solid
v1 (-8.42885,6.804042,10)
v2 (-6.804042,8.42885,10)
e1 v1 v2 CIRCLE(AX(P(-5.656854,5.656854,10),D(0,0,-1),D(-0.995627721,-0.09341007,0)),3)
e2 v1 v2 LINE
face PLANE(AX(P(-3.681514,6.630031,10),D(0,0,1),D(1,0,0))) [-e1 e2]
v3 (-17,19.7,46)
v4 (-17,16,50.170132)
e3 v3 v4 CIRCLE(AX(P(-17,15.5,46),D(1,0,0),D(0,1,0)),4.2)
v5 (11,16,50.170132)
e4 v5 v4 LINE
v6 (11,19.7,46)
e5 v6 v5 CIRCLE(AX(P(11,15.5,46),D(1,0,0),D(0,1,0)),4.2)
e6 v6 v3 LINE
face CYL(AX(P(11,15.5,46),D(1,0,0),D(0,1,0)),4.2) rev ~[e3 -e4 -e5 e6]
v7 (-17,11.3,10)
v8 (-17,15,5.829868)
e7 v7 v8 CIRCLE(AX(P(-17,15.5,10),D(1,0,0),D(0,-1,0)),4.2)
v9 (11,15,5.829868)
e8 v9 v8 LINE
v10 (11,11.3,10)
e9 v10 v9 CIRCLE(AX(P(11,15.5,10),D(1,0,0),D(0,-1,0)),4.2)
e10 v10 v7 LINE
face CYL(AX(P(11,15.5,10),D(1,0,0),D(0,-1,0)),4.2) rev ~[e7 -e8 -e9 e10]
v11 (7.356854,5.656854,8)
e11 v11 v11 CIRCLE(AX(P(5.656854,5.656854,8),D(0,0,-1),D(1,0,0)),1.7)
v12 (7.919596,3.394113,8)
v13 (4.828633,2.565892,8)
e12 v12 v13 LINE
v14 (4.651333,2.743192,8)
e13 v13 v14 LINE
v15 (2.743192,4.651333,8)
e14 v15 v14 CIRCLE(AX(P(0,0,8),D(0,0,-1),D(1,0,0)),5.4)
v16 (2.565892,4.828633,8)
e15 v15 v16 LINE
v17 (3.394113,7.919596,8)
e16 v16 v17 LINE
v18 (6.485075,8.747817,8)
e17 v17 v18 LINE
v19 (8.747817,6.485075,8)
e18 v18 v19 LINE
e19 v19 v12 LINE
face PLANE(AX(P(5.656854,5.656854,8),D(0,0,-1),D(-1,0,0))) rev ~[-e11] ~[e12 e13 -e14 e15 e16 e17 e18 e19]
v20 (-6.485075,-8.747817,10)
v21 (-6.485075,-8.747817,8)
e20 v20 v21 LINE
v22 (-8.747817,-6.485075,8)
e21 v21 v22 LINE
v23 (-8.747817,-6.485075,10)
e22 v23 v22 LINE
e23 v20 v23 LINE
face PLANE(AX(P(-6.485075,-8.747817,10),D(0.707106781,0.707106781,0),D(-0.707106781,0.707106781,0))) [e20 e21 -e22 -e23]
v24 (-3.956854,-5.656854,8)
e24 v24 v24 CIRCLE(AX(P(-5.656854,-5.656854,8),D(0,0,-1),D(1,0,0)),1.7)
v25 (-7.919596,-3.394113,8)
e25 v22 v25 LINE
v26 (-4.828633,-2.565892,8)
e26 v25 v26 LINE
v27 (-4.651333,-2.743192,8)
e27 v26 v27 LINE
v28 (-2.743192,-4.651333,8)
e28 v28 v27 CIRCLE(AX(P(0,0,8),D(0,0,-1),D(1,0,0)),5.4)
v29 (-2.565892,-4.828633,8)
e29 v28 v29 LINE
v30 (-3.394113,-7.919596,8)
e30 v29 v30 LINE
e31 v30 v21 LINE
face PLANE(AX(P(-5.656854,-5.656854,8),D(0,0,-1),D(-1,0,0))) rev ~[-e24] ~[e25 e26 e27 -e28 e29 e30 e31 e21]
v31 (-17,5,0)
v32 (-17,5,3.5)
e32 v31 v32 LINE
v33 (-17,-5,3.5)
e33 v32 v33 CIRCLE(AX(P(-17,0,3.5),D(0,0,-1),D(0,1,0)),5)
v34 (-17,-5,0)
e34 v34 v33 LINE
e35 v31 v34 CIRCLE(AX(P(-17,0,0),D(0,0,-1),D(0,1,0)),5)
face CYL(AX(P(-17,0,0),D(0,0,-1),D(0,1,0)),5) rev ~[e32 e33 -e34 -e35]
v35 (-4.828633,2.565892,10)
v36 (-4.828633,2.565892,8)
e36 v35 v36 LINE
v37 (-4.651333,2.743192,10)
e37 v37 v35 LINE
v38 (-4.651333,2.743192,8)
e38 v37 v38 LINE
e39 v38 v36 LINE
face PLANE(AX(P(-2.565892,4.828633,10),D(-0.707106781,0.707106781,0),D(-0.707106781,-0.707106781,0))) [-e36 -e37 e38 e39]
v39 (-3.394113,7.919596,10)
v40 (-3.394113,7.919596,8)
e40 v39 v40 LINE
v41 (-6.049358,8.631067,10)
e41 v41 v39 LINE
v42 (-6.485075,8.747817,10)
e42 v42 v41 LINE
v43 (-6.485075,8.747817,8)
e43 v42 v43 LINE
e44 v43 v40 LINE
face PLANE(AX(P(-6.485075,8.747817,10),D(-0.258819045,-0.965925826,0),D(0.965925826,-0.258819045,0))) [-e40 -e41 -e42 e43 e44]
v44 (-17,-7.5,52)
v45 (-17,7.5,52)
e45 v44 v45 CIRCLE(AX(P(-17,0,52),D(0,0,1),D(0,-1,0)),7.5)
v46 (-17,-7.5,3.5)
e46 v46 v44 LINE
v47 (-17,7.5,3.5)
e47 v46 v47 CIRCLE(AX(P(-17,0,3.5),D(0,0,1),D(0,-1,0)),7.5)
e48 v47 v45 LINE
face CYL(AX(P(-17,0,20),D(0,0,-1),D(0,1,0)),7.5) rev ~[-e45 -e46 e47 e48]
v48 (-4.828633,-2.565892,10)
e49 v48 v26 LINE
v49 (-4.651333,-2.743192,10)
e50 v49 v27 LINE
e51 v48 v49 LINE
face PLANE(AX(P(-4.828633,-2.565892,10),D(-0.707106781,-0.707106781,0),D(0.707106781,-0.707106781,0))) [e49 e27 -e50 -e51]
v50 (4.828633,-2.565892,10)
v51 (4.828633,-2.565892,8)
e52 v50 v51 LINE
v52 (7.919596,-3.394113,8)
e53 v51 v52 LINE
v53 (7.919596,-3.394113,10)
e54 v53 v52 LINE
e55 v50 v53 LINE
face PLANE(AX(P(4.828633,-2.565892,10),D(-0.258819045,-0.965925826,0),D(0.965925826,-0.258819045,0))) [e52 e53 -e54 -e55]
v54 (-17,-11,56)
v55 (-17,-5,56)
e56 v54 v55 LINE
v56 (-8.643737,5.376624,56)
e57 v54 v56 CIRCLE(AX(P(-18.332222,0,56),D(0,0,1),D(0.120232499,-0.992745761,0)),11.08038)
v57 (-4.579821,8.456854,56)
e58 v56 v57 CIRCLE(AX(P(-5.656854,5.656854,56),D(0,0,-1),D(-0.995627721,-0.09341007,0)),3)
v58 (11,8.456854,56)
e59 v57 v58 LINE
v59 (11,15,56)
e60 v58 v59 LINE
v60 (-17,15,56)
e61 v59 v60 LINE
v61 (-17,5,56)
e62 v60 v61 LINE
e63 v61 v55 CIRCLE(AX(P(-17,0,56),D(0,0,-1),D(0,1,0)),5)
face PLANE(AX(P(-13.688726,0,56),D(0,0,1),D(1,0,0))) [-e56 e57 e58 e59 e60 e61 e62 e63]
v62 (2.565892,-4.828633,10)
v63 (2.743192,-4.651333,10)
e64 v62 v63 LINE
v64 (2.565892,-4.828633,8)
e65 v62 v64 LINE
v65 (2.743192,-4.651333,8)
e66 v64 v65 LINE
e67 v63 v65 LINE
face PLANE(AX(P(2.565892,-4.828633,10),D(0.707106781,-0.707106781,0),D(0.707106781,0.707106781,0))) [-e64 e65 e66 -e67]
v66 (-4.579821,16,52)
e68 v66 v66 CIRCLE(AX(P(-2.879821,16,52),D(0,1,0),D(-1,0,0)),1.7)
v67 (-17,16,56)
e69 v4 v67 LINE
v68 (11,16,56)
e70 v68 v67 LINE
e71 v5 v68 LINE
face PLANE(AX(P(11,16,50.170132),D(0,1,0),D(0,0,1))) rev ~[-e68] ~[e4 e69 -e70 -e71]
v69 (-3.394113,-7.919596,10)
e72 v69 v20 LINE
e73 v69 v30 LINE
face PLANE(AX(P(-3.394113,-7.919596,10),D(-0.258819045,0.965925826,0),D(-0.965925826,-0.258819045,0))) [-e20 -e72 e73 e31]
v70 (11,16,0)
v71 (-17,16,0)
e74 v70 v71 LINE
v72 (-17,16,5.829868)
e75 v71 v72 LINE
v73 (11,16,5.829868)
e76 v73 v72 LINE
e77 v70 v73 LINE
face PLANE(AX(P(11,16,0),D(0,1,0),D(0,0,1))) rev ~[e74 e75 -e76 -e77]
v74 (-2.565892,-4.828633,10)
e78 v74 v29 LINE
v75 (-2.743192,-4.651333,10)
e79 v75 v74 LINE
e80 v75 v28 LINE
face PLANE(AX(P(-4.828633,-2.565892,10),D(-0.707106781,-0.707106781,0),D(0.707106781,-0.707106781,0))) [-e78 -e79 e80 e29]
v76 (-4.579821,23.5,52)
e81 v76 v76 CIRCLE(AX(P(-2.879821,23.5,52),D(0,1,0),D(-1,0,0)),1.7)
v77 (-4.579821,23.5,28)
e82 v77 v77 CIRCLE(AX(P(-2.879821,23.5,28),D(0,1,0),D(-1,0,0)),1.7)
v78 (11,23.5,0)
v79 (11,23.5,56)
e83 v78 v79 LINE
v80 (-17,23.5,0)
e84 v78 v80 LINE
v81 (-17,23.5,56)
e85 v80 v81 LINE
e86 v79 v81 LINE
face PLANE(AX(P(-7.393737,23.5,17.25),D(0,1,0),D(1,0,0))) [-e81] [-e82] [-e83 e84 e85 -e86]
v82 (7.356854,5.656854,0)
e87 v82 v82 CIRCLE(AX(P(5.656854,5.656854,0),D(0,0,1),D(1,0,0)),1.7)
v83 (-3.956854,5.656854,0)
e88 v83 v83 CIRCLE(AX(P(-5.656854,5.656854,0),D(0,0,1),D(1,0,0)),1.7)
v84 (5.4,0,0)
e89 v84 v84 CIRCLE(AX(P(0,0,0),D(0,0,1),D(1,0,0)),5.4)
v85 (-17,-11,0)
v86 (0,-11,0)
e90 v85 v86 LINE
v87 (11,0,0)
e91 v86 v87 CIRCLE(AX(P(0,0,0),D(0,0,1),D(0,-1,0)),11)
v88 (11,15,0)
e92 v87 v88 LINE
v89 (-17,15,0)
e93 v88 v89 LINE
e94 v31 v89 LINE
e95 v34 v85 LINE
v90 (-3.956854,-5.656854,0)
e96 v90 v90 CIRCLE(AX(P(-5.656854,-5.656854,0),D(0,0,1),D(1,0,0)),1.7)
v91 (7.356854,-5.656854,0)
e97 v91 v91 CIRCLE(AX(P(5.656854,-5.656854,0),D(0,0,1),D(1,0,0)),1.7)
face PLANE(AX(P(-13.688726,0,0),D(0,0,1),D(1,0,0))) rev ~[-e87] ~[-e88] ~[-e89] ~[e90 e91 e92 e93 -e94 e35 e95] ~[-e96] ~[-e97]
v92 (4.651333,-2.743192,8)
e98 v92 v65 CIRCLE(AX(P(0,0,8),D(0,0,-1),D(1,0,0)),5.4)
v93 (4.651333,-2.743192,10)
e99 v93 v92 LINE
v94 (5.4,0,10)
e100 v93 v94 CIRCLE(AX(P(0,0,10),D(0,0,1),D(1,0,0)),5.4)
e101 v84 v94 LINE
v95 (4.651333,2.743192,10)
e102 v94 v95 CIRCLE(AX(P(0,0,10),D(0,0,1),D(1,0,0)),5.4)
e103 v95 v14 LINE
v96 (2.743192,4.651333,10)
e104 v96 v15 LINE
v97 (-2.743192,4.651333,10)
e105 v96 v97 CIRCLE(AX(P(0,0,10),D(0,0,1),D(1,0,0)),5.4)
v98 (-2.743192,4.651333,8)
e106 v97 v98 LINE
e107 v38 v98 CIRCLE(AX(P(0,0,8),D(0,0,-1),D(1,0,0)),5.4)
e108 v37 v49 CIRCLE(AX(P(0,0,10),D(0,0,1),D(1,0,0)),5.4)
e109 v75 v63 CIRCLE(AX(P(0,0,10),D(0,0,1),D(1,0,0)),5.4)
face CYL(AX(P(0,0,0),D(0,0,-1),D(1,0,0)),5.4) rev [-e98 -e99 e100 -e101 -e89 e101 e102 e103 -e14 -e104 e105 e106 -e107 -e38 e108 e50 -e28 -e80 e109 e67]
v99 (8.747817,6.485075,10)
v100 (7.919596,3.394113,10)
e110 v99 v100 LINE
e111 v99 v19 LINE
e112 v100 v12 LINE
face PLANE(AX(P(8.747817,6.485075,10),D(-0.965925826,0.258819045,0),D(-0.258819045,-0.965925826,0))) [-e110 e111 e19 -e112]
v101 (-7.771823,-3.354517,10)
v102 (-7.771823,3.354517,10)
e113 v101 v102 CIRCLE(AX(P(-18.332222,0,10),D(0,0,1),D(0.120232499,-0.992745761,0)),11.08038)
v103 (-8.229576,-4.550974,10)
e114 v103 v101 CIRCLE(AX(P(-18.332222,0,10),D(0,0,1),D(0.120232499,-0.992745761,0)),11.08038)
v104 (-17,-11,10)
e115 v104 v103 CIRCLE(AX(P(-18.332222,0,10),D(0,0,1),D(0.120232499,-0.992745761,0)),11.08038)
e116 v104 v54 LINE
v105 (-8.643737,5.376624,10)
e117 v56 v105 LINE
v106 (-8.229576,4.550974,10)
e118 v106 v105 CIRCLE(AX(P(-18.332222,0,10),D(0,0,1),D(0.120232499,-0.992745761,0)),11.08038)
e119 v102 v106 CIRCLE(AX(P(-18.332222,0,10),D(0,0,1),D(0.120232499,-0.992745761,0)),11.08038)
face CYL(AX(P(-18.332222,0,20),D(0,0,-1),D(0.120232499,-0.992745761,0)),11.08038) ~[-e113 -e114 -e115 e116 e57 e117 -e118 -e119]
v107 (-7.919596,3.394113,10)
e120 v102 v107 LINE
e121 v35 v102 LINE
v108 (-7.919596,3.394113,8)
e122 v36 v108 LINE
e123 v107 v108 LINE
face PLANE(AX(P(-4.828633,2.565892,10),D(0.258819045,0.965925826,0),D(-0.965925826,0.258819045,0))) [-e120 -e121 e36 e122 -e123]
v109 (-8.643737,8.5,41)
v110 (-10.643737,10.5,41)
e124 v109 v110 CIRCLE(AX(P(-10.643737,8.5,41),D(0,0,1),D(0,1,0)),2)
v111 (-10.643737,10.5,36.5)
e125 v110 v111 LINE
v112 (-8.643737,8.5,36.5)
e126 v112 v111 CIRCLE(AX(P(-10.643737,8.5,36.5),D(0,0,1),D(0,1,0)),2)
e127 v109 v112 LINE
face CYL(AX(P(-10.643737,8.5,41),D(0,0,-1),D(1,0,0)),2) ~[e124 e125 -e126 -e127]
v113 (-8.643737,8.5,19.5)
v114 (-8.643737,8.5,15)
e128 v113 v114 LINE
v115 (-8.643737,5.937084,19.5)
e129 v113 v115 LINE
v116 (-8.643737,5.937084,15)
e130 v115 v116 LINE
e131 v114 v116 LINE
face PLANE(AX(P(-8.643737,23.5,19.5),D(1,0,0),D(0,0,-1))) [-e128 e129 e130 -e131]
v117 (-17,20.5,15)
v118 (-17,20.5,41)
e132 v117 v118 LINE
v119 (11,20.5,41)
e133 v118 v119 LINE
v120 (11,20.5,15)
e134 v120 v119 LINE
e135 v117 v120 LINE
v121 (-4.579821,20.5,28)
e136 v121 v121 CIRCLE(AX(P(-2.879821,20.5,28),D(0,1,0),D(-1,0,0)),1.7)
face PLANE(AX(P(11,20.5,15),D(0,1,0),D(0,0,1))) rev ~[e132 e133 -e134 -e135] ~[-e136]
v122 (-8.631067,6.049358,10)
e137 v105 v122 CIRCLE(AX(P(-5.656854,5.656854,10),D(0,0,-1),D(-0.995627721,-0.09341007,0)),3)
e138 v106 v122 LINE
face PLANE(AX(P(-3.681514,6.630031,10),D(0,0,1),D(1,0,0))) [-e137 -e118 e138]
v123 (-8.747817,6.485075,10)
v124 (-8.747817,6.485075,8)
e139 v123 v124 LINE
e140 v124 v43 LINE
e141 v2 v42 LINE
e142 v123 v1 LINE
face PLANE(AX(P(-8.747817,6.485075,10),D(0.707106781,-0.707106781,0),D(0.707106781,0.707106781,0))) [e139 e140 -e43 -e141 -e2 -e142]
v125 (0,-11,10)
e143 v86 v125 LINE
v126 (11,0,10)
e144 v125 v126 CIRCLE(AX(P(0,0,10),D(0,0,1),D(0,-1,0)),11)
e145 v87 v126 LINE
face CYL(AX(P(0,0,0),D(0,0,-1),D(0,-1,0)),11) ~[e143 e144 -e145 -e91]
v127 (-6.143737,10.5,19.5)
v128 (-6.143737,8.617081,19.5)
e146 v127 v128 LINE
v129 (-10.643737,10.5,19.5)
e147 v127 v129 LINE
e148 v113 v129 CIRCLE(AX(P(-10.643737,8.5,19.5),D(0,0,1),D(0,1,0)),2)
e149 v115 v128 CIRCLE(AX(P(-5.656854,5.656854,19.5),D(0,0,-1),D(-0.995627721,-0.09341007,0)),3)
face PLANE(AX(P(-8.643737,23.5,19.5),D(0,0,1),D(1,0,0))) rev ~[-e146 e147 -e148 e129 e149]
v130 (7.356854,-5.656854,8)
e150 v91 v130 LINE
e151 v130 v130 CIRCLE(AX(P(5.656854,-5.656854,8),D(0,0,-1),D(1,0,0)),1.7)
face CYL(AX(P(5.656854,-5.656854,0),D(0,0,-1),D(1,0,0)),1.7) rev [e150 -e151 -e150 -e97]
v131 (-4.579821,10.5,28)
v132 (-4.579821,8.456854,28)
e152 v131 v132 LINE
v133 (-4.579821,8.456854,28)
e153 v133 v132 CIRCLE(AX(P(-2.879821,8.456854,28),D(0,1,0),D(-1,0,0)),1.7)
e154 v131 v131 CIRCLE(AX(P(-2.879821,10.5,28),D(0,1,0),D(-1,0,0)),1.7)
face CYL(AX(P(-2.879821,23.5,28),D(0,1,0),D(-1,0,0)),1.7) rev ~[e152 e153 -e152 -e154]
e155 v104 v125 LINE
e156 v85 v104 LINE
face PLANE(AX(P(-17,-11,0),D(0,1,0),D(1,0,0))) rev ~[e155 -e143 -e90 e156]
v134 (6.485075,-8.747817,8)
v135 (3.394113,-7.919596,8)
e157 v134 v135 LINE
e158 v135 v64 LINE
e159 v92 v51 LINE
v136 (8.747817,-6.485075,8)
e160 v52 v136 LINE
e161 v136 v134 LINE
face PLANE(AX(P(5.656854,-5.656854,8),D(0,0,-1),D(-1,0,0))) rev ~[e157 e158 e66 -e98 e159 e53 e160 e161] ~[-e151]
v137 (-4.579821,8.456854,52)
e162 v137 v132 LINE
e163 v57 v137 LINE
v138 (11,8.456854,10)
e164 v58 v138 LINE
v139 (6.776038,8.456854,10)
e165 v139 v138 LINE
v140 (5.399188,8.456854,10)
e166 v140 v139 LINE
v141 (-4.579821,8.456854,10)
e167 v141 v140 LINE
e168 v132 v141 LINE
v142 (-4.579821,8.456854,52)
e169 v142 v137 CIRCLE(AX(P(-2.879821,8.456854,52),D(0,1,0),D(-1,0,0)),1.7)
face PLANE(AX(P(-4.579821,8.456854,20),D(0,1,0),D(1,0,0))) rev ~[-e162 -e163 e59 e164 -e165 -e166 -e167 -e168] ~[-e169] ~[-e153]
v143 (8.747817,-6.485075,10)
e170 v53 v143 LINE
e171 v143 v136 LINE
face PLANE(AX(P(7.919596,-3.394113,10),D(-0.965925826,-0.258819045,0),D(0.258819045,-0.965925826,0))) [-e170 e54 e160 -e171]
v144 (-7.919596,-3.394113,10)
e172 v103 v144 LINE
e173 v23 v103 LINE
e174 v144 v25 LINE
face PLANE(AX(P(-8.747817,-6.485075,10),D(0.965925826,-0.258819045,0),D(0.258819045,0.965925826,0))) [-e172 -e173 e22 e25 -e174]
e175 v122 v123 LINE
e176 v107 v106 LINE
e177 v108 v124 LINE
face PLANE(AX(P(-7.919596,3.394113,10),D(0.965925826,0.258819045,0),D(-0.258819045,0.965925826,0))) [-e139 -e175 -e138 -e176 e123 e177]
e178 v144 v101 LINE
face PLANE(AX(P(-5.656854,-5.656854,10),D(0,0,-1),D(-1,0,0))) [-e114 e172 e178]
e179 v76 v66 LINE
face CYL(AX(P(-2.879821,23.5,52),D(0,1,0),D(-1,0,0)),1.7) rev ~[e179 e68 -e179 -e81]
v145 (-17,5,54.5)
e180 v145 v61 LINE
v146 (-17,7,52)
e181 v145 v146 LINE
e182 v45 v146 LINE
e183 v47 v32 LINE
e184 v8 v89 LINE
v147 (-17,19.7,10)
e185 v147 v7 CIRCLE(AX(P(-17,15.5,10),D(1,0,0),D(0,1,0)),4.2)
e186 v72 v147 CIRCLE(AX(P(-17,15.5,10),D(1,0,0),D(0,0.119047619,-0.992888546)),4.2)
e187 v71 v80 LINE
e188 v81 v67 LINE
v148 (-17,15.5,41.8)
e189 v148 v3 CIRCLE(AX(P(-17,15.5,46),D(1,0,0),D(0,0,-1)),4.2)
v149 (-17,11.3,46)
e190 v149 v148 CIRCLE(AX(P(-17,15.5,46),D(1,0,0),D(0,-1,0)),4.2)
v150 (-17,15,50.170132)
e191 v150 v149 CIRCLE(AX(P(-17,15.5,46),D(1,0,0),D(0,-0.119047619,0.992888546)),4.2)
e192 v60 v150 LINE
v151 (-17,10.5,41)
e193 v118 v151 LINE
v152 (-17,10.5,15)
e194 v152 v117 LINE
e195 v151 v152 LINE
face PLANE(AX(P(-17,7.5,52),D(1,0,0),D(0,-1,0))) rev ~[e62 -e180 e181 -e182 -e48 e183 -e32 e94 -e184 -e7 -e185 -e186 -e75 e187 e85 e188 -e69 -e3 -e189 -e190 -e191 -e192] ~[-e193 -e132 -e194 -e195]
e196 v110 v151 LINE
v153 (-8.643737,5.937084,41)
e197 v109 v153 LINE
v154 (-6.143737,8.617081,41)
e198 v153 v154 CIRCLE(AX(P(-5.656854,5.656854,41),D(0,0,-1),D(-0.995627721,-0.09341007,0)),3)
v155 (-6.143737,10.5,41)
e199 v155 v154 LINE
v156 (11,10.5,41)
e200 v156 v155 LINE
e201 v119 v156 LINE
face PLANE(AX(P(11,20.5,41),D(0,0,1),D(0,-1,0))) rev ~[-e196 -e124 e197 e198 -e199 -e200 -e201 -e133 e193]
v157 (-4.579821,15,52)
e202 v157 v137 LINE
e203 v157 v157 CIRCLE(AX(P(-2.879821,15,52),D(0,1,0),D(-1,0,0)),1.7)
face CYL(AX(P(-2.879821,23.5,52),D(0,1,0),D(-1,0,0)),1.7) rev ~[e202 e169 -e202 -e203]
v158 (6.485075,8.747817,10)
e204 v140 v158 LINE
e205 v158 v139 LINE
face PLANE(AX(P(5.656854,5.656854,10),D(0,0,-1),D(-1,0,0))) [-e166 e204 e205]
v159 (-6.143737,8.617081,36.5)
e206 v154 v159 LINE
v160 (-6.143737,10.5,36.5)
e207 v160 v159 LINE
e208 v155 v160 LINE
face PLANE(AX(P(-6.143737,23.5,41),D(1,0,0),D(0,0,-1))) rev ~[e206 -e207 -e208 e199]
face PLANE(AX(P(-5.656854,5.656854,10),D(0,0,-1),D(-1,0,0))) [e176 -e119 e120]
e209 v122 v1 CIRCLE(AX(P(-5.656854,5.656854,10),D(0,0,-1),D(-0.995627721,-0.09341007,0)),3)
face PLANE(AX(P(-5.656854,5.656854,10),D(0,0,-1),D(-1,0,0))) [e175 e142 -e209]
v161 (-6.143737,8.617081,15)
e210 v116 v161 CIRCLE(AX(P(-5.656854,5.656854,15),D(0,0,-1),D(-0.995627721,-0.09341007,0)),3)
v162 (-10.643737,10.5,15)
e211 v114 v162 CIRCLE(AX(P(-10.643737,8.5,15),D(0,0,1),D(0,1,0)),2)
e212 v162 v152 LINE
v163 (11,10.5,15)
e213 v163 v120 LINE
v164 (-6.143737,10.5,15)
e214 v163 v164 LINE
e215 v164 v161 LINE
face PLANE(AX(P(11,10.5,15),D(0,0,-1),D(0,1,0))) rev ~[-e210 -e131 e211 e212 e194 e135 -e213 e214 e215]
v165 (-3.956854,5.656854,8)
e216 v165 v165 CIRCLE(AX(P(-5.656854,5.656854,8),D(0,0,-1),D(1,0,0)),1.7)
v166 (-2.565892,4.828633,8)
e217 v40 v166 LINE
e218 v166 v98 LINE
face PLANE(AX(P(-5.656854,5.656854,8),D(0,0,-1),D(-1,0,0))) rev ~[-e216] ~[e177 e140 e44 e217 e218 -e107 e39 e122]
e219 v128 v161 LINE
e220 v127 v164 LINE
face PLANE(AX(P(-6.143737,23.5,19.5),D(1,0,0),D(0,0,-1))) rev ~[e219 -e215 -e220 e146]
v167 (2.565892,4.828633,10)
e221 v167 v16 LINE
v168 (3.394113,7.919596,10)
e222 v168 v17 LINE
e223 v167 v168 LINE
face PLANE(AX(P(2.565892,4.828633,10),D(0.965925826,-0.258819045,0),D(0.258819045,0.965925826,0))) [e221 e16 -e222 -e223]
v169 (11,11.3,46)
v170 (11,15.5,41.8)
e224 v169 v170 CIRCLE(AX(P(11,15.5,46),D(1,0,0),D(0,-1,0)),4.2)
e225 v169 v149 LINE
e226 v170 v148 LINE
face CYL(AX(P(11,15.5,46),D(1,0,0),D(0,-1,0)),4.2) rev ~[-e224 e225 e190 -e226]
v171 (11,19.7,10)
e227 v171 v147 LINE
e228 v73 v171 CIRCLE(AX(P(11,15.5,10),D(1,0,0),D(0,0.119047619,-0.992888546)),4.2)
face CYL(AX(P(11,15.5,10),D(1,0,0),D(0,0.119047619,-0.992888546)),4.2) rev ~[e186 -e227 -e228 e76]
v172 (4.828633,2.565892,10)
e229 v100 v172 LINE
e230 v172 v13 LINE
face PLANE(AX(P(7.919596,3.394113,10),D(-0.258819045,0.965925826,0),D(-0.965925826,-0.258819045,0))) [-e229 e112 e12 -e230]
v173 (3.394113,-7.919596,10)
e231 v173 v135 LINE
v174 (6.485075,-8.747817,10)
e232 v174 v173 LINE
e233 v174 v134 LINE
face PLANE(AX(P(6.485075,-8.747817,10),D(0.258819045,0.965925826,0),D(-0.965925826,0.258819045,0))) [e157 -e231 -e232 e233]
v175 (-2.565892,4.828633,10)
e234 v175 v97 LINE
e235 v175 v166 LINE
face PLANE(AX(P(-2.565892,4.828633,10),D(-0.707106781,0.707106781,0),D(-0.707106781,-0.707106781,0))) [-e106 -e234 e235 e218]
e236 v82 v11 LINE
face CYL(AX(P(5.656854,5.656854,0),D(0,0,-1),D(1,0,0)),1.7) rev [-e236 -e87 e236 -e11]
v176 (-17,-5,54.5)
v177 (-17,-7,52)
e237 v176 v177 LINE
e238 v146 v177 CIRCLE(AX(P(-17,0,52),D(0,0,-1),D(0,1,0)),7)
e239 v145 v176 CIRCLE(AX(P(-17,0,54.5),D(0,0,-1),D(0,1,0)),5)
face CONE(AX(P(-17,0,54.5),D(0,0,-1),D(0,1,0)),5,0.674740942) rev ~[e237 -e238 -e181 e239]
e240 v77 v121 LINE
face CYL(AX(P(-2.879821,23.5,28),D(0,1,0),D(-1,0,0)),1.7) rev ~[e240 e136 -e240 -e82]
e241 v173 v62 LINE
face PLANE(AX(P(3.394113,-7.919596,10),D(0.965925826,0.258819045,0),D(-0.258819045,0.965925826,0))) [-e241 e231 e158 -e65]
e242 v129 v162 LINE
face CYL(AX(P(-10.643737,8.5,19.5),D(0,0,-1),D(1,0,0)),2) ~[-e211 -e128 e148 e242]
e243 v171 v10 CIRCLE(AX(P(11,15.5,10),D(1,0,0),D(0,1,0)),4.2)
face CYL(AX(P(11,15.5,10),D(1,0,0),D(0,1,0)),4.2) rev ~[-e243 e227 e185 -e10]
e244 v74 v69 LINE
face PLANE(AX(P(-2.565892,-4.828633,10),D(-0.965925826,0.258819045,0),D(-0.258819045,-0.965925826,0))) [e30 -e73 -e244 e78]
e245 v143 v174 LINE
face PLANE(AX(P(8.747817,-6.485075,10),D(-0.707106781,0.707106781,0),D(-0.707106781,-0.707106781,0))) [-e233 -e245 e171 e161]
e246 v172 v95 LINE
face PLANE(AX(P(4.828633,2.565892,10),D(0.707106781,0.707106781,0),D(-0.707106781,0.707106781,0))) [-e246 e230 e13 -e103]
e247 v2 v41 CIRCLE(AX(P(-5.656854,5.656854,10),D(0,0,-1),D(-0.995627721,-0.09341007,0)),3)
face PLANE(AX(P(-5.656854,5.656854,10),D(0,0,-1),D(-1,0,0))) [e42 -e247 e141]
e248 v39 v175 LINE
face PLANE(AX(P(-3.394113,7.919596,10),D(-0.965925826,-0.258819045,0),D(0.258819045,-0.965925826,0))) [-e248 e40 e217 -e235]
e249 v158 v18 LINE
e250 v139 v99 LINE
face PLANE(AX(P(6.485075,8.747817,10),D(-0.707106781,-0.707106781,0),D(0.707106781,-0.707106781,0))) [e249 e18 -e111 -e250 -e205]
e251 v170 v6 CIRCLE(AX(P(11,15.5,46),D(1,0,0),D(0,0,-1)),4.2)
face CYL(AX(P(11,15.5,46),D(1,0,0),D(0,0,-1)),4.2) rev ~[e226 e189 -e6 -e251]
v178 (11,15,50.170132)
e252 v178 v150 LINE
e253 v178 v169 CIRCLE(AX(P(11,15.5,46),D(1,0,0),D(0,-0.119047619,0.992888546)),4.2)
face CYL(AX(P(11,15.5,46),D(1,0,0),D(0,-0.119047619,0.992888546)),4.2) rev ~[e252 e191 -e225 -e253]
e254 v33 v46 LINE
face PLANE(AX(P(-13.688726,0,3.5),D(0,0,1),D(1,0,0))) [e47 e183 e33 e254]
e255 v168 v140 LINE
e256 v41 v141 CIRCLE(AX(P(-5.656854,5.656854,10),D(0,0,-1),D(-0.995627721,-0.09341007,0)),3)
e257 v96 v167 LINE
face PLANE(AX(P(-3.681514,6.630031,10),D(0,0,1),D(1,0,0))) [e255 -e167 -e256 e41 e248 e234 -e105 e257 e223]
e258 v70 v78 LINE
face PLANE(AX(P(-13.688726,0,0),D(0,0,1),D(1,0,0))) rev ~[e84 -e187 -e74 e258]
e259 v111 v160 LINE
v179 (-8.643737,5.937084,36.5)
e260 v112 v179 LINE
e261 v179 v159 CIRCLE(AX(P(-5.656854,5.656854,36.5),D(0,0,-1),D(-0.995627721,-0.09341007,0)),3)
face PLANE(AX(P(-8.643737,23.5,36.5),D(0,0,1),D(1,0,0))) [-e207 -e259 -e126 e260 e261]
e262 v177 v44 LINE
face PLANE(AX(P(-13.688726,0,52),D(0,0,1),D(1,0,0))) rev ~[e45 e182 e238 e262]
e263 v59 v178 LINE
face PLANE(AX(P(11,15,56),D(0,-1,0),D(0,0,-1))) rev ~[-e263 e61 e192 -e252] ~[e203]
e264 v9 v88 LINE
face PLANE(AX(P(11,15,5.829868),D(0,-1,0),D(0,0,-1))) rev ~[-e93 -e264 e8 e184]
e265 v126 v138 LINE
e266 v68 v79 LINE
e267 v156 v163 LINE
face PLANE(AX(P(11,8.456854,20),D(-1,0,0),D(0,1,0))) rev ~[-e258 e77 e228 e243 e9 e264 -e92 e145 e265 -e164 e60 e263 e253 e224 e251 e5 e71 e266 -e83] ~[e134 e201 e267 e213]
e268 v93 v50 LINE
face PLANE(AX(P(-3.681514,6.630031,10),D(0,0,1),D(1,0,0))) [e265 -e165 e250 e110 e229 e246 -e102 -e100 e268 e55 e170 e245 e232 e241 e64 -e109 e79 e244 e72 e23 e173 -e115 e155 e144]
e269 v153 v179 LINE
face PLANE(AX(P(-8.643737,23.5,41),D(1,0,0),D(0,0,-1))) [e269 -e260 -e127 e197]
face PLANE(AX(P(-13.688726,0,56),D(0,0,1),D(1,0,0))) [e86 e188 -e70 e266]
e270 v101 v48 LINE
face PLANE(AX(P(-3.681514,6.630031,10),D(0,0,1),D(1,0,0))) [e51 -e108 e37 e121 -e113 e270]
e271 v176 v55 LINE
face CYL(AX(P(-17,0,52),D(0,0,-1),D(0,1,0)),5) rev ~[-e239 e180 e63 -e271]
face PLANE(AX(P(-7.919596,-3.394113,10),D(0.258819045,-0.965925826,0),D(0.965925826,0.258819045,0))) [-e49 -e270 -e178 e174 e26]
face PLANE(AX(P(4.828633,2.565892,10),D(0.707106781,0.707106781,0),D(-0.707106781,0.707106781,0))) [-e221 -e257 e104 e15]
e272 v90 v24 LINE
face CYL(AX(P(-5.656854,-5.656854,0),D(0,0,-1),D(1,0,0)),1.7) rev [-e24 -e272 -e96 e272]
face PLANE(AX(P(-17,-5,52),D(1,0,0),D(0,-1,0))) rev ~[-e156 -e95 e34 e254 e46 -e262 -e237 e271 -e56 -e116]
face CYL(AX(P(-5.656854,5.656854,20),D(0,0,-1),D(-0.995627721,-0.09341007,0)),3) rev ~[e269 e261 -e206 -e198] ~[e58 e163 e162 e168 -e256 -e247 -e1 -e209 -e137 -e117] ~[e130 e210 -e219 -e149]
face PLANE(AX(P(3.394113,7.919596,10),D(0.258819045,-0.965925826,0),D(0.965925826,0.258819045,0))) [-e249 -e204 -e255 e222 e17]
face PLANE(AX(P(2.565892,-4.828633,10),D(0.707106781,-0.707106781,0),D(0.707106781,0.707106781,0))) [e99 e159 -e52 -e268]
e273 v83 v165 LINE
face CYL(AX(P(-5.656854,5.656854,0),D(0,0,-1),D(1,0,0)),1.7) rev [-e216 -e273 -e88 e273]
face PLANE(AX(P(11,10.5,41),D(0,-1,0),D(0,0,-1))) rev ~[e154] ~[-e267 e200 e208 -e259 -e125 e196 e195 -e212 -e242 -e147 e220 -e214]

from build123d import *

# Parameters (mm, degrees)
SKETCH_1_R          = 1.7
SKETCH_1_R_2        = 5.4
EXTRUDE_1_DEPTH     = 10
EXTRUDE_START       = 10
EXTRUDE_2_DEPTH     = 10
CUT_EXTRUDE_START   = -10
CUT_EXTRUDE_1_DEPTH = 2
EXTRUDE_START_2     = 20
EXTRUDE_3_DEPTH     = 36
EXTRUDE_4_DEPTH     = 3.5
EXTRUDE_START_3     = 52
EXTRUDE_5_DEPTH     = 4
CUT_EXTRUDE_2_REACH = 69.936
SKETCH_7_R          = 1.7
SKETCH_7_W          = 2.5
SKETCH_7_H          = 4.5
SKETCH_8_W          = 26
SKETCH_8_H          = 10
CUT_EXTRUDE_3_DEPTH = 67.874883177
SKETCH_9_W          = 2.5
SKETCH_9_H          = 4.5
EXTRUDE_10_DEPTH    = 3
FILLET_1_R          = 2
CHAMFER_3_SIZE      = 2.5
CHAMFER_3_SIZE2     = 2


with BuildPart() as part:
    # 草图1 → 凸台-拉伸1 (new body)
    with BuildSketch(Plane.XY):
        with BuildLine():
            Line((-17, -7.5), (-17, -11))
            Line((-17, -11), (0, -11))
            ThreePointArc((0, -11), (7.778174593, -7.778174593), (11, 0))
            Line((11, 0), (11, 23.5))
            Line((11, 23.5), (-17, 23.5))
            Line((-17, 23.5), (-17, 7.5))
            ThreePointArc((-17, 7.5), (-9.5, 0), (-17, -7.5))
        make_face()
        with Locations((-5.656854249, -5.656854249)):
            Circle(SKETCH_1_R, mode=Mode.SUBTRACT)
        with Locations((5.656854249, -5.656854249)):
            Circle(SKETCH_1_R, mode=Mode.SUBTRACT)
        Circle(SKETCH_1_R_2, mode=Mode.SUBTRACT)
        with Locations((-5.656854249, 5.656854249)):
            Circle(SKETCH_1_R, mode=Mode.SUBTRACT)
        with Locations((5.656854249, 5.656854249)):
            Circle(SKETCH_1_R, mode=Mode.SUBTRACT)
    extrude(amount=EXTRUDE_1_DEPTH)

    # 草图1<6> → 凸台-拉伸2 (add)
    with BuildSketch(Plane.XY.offset(EXTRUDE_START)):
        with BuildLine():
            Line((11, 8.456854249), (11, 23.5))
            Line((11, 23.5), (-17, 23.5))
            Line((-17, 23.5), (-17, 7.5))
            ThreePointArc((-17, 7.5), (-9.5, 0), (-17, -7.5))
            Line((-17, -7.5), (-17, -11))
            ThreePointArc((-17, -11), (-8.462447466, -5.036106671), (-8.643737412, 5.376624039))
            ThreePointArc((-8.643737412, 5.376624039), (-7.46899014, 8.047704206), (-4.579821288, 8.456854249))
            Line((-4.579821288, 8.456854249), (11, 8.456854249))
        make_face()
    extrude(amount=EXTRUDE_2_DEPTH)

    # 草图3 → 切除-拉伸1 (cut)
    with BuildSketch(Plane(origin=(0, 0, 0), x_dir=(-1, 0, 0), z_dir=(0, 0, -1)).offset(CUT_EXTRUDE_START)):
        Polygon((7.919595949, 3.39411255), (8.747816894, 6.485075194), (6.485075194, 8.747816894), (3.39411255, 7.919595949), (2.565891605, 4.828633305), (4.828633305, 2.565891605), align=None)
        Polygon((-2.565891605, 4.828633305), (-3.39411255, 7.919595949), (-6.485075194, 8.747816894), (-8.747816894, 6.485075194), (-7.919595949, 3.39411255), (-4.828633305, 2.565891605), align=None)
        Polygon((-3.39411255, -7.919595949), (-2.565891605, -4.828633305), (-4.828633305, -2.565891605), (-7.919595949, -3.39411255), (-8.747816894, -6.485075194), (-6.485075194, -8.747816894), align=None)
        Polygon((2.565891605, -4.828633305), (3.39411255, -7.919595949), (6.485075194, -8.747816894), (8.747816894, -6.485075194), (7.919595949, -3.39411255), (4.828633305, -2.565891605), align=None)
    extrude(amount=CUT_EXTRUDE_1_DEPTH, mode=Mode.SUBTRACT)

    # 草图1<7> → 凸台-拉伸3 (add)
    with BuildSketch(Plane.XY.offset(EXTRUDE_START_2)):
        with BuildLine():
            Line((11, 8.456854249), (11, 23.5))
            Line((11, 23.5), (-17, 23.5))
            Line((-17, 23.5), (-17, 7.5))
            ThreePointArc((-17, 7.5), (-9.5, 0), (-17, -7.5))
            Line((-17, -7.5), (-17, -11))
            ThreePointArc((-17, -11), (-8.462447466, -5.036106671), (-8.643737412, 5.376624039))
            ThreePointArc((-8.643737412, 5.376624039), (-7.46899014, 8.047704206), (-4.579821288, 8.456854249))
            Line((-4.579821288, 8.456854249), (11, 8.456854249))
        make_face()
    extrude(amount=EXTRUDE_3_DEPTH)

    # 草图1<8> → 凸台-拉伸4 (add)
    with BuildSketch(Plane.XY):
        with BuildLine():
            Line((-17, -5), (-17, -7.5))
            ThreePointArc((-17, -7.5), (-9.5, 0), (-17, 7.5))
            Line((-17, 7.5), (-17, 5))
            ThreePointArc((-17, 5), (-12, 0), (-17, -5))
        make_face()
    extrude(amount=EXTRUDE_4_DEPTH)

    # 草图1<9> → 凸台-拉伸5 (add)
    with BuildSketch(Plane.XY.offset(EXTRUDE_START_3)):
        with BuildLine():
            Line((-17, -5), (-17, -7.5))
            ThreePointArc((-17, -7.5), (-9.5, 0), (-17, 7.5))
            Line((-17, 7.5), (-17, 5))
            ThreePointArc((-17, 5), (-12, 0), (-17, -5))
        make_face()
    extrude(amount=EXTRUDE_5_DEPTH)

    # 草图7 → 切除-拉伸2 (cut, up to next)
    with BuildSketch(Plane(origin=(0, 23.5, 0), x_dir=(1, 0, 0), z_dir=(0, 1, 0)), mode=Mode.PRIVATE) as cut_extrude_2_sk1:
        with Locations(Location((-2.879821288, -28, 0), (0, 0, 180))):
            Circle(SKETCH_7_R)
    cut_extrude_2_tool1 = extrude(cut_extrude_2_sk1.sketch, amount=-CUT_EXTRUDE_2_REACH, mode=Mode.PRIVATE) & part.part
    # 草图7 → 切除-拉伸2 (cut, up to next)
    with BuildSketch(Plane(origin=(0, 23.5, 0), x_dir=(1, 0, 0), z_dir=(0, 1, 0)), mode=Mode.PRIVATE) as cut_extrude_2_sk2:
        with Locations(Location((-2.879821288, -52, 0), (0, 0, 180))):
            Circle(SKETCH_7_R)
    cut_extrude_2_tool2 = extrude(cut_extrude_2_sk2.sketch, amount=-CUT_EXTRUDE_2_REACH, mode=Mode.PRIVATE) & part.part
    # 草图7 → 切除-拉伸2 (cut, up to next)
    with BuildSketch(Plane(origin=(0, 23.5, 0), x_dir=(1, 0, 0), z_dir=(0, 1, 0)), mode=Mode.PRIVATE) as cut_extrude_2_sk3:
        with Locations((-7.393737412, -38.75)):
            Rectangle(SKETCH_7_W, SKETCH_7_H)
    cut_extrude_2_tool3 = extrude(cut_extrude_2_sk3.sketch, amount=-CUT_EXTRUDE_2_REACH, mode=Mode.PRIVATE) & part.part
    # 草图7 → 切除-拉伸2 (cut, up to next)
    with BuildSketch(Plane(origin=(0, 23.5, 0), x_dir=(1, 0, 0), z_dir=(0, 1, 0)), mode=Mode.PRIVATE) as cut_extrude_2_sk4:
        with Locations((-7.393737412, -17.25)):
            Rectangle(SKETCH_7_W, SKETCH_7_H)
    cut_extrude_2_tool4 = extrude(cut_extrude_2_sk4.sketch, amount=-CUT_EXTRUDE_2_REACH, mode=Mode.PRIVATE) & part.part
    add(cut_extrude_2_tool1.solids().sort_by_distance((-2.879821, 23.5, 28))[0], mode=Mode.SUBTRACT)
    add(cut_extrude_2_tool2.solids().sort_by_distance((-2.879821, 23.5, 52))[0], mode=Mode.SUBTRACT)
    add(cut_extrude_2_tool3.solids().sort_by_distance((-7.393737, 23.5, 38.75))[0], mode=Mode.SUBTRACT)
    add(cut_extrude_2_tool4.solids().sort_by_distance((-7.393737, 23.5, 17.25))[0], mode=Mode.SUBTRACT)

    # 草图8 → 切除-拉伸3 (cut, through all)
    with BuildSketch(Plane(origin=(11, 0, 0), x_dir=(0, 0, -1), z_dir=(1, 0, 0))):
        with Locations((18, 15.5)):
            Rectangle(SKETCH_8_W, SKETCH_8_H)
        with BuildLine():
            ThreePointArc((-46, 19.7), (-48.787471973, 18.641655614), (-50.170131892, 16))
            ThreePointArc((-50.170131892, 16), (-50.2, 15.5), (-50.170131892, 15))
            ThreePointArc((-50.170131892, 15), (-48.787471973, 12.358344386), (-46, 11.3))
            Line((-46, 11.3), (-46, 19.7))
        make_face()
        with BuildLine():
            ThreePointArc((-41.8, 15.5), (-43.030151519, 18.469848481), (-46, 19.7))
            Line((-46, 19.7), (-46, 11.3))
            ThreePointArc((-46, 11.3), (-43.030151519, 12.530151519), (-41.8, 15.5))
        make_face()
        with BuildLine():
            ThreePointArc((-10, 11.3), (-7.212528027, 12.358344386), (-5.829868108, 15))
            ThreePointArc((-5.829868108, 15), (-5.807473676, 15.249554345), (-5.8, 15.5))
            ThreePointArc((-5.8, 15.5), (-5.807473676, 15.750445655), (-5.829868108, 16))
            ThreePointArc((-5.829868108, 16), (-7.212528027, 18.641655614), (-10, 19.7))
            Line((-10, 19.7), (-10, 11.3))
        make_face()
        with BuildLine():
            ThreePointArc((-10, 19.7), (-14.2, 15.5), (-10, 11.3))
            Line((-10, 11.3), (-10, 19.7))
        make_face()
        with BuildLine():
            Line((-50.170131892, 16), (-56, 16))
            Line((-56, 16), (-56, 15))
            Line((-56, 15), (-50.170131892, 15))
            ThreePointArc((-50.170131892, 15), (-50.2, 15.5), (-50.170131892, 16))
        make_face()
        with BuildLine():
            ThreePointArc((-5.8, 15.5), (-5.807473676, 15.249554345), (-5.829868108, 15))
            Line((-5.829868108, 15), (0, 15))
            Line((0, 15), (0, 16))
            Line((0, 16), (-5.829868108, 16))
            ThreePointArc((-5.829868108, 16), (-5.807473676, 15.750445655), (-5.8, 15.5))
        make_face()
        Polygon((-41, 10.5), (-28, 15.5), (-41, 20.5), align=None)
        Polygon((-28, 15.5), (-15, 20.5), (-41, 20.5), align=None)
        Polygon((-15, 10.5), (-15, 20.5), (-28, 15.5), align=None)
        Polygon((-15, 10.5), (-28, 15.5), (-41, 10.5), align=None)
    extrude(amount=-CUT_EXTRUDE_3_DEPTH, mode=Mode.SUBTRACT)

    # 草图9 → 凸台-拉伸10 (add)
    with BuildSketch(Plane(origin=(0, 23.5, 0), x_dir=(1, 0, 0), z_dir=(0, 1, 0))):
        with Locations((-7.393737412, -17.25)):
            Rectangle(SKETCH_9_W, SKETCH_9_H)
        with Locations((-7.393737412, -38.75)):
            Rectangle(SKETCH_9_W, SKETCH_9_H)
    extrude(amount=-EXTRUDE_10_DEPTH)

    # 圆角1
    fillet_1_edges = [part.edges().sort_by_distance(p)[0] for p in [
        (-8.643737412, 10.5, 38.75),
        (-8.643737412, 10.5, 17.25),
    ]]
    fillet(fillet_1_edges, radius=FILLET_1_R)

    # 倒角3
    chamfer_3_edges = [part.edges().sort_by_distance(p)[0] for p in [
        (-12, 0, 52),
    ]]
    chamfer_3_side = [part.faces().sort_by_distance(p)[0] for p in [
        (-12, 0, 54),
    ]]
    chamfer(chamfer_3_edges, length=CHAMFER_3_SIZE, length2=CHAMFER_3_SIZE2, reference=chamfer_3_side[0])


solid = part.part
